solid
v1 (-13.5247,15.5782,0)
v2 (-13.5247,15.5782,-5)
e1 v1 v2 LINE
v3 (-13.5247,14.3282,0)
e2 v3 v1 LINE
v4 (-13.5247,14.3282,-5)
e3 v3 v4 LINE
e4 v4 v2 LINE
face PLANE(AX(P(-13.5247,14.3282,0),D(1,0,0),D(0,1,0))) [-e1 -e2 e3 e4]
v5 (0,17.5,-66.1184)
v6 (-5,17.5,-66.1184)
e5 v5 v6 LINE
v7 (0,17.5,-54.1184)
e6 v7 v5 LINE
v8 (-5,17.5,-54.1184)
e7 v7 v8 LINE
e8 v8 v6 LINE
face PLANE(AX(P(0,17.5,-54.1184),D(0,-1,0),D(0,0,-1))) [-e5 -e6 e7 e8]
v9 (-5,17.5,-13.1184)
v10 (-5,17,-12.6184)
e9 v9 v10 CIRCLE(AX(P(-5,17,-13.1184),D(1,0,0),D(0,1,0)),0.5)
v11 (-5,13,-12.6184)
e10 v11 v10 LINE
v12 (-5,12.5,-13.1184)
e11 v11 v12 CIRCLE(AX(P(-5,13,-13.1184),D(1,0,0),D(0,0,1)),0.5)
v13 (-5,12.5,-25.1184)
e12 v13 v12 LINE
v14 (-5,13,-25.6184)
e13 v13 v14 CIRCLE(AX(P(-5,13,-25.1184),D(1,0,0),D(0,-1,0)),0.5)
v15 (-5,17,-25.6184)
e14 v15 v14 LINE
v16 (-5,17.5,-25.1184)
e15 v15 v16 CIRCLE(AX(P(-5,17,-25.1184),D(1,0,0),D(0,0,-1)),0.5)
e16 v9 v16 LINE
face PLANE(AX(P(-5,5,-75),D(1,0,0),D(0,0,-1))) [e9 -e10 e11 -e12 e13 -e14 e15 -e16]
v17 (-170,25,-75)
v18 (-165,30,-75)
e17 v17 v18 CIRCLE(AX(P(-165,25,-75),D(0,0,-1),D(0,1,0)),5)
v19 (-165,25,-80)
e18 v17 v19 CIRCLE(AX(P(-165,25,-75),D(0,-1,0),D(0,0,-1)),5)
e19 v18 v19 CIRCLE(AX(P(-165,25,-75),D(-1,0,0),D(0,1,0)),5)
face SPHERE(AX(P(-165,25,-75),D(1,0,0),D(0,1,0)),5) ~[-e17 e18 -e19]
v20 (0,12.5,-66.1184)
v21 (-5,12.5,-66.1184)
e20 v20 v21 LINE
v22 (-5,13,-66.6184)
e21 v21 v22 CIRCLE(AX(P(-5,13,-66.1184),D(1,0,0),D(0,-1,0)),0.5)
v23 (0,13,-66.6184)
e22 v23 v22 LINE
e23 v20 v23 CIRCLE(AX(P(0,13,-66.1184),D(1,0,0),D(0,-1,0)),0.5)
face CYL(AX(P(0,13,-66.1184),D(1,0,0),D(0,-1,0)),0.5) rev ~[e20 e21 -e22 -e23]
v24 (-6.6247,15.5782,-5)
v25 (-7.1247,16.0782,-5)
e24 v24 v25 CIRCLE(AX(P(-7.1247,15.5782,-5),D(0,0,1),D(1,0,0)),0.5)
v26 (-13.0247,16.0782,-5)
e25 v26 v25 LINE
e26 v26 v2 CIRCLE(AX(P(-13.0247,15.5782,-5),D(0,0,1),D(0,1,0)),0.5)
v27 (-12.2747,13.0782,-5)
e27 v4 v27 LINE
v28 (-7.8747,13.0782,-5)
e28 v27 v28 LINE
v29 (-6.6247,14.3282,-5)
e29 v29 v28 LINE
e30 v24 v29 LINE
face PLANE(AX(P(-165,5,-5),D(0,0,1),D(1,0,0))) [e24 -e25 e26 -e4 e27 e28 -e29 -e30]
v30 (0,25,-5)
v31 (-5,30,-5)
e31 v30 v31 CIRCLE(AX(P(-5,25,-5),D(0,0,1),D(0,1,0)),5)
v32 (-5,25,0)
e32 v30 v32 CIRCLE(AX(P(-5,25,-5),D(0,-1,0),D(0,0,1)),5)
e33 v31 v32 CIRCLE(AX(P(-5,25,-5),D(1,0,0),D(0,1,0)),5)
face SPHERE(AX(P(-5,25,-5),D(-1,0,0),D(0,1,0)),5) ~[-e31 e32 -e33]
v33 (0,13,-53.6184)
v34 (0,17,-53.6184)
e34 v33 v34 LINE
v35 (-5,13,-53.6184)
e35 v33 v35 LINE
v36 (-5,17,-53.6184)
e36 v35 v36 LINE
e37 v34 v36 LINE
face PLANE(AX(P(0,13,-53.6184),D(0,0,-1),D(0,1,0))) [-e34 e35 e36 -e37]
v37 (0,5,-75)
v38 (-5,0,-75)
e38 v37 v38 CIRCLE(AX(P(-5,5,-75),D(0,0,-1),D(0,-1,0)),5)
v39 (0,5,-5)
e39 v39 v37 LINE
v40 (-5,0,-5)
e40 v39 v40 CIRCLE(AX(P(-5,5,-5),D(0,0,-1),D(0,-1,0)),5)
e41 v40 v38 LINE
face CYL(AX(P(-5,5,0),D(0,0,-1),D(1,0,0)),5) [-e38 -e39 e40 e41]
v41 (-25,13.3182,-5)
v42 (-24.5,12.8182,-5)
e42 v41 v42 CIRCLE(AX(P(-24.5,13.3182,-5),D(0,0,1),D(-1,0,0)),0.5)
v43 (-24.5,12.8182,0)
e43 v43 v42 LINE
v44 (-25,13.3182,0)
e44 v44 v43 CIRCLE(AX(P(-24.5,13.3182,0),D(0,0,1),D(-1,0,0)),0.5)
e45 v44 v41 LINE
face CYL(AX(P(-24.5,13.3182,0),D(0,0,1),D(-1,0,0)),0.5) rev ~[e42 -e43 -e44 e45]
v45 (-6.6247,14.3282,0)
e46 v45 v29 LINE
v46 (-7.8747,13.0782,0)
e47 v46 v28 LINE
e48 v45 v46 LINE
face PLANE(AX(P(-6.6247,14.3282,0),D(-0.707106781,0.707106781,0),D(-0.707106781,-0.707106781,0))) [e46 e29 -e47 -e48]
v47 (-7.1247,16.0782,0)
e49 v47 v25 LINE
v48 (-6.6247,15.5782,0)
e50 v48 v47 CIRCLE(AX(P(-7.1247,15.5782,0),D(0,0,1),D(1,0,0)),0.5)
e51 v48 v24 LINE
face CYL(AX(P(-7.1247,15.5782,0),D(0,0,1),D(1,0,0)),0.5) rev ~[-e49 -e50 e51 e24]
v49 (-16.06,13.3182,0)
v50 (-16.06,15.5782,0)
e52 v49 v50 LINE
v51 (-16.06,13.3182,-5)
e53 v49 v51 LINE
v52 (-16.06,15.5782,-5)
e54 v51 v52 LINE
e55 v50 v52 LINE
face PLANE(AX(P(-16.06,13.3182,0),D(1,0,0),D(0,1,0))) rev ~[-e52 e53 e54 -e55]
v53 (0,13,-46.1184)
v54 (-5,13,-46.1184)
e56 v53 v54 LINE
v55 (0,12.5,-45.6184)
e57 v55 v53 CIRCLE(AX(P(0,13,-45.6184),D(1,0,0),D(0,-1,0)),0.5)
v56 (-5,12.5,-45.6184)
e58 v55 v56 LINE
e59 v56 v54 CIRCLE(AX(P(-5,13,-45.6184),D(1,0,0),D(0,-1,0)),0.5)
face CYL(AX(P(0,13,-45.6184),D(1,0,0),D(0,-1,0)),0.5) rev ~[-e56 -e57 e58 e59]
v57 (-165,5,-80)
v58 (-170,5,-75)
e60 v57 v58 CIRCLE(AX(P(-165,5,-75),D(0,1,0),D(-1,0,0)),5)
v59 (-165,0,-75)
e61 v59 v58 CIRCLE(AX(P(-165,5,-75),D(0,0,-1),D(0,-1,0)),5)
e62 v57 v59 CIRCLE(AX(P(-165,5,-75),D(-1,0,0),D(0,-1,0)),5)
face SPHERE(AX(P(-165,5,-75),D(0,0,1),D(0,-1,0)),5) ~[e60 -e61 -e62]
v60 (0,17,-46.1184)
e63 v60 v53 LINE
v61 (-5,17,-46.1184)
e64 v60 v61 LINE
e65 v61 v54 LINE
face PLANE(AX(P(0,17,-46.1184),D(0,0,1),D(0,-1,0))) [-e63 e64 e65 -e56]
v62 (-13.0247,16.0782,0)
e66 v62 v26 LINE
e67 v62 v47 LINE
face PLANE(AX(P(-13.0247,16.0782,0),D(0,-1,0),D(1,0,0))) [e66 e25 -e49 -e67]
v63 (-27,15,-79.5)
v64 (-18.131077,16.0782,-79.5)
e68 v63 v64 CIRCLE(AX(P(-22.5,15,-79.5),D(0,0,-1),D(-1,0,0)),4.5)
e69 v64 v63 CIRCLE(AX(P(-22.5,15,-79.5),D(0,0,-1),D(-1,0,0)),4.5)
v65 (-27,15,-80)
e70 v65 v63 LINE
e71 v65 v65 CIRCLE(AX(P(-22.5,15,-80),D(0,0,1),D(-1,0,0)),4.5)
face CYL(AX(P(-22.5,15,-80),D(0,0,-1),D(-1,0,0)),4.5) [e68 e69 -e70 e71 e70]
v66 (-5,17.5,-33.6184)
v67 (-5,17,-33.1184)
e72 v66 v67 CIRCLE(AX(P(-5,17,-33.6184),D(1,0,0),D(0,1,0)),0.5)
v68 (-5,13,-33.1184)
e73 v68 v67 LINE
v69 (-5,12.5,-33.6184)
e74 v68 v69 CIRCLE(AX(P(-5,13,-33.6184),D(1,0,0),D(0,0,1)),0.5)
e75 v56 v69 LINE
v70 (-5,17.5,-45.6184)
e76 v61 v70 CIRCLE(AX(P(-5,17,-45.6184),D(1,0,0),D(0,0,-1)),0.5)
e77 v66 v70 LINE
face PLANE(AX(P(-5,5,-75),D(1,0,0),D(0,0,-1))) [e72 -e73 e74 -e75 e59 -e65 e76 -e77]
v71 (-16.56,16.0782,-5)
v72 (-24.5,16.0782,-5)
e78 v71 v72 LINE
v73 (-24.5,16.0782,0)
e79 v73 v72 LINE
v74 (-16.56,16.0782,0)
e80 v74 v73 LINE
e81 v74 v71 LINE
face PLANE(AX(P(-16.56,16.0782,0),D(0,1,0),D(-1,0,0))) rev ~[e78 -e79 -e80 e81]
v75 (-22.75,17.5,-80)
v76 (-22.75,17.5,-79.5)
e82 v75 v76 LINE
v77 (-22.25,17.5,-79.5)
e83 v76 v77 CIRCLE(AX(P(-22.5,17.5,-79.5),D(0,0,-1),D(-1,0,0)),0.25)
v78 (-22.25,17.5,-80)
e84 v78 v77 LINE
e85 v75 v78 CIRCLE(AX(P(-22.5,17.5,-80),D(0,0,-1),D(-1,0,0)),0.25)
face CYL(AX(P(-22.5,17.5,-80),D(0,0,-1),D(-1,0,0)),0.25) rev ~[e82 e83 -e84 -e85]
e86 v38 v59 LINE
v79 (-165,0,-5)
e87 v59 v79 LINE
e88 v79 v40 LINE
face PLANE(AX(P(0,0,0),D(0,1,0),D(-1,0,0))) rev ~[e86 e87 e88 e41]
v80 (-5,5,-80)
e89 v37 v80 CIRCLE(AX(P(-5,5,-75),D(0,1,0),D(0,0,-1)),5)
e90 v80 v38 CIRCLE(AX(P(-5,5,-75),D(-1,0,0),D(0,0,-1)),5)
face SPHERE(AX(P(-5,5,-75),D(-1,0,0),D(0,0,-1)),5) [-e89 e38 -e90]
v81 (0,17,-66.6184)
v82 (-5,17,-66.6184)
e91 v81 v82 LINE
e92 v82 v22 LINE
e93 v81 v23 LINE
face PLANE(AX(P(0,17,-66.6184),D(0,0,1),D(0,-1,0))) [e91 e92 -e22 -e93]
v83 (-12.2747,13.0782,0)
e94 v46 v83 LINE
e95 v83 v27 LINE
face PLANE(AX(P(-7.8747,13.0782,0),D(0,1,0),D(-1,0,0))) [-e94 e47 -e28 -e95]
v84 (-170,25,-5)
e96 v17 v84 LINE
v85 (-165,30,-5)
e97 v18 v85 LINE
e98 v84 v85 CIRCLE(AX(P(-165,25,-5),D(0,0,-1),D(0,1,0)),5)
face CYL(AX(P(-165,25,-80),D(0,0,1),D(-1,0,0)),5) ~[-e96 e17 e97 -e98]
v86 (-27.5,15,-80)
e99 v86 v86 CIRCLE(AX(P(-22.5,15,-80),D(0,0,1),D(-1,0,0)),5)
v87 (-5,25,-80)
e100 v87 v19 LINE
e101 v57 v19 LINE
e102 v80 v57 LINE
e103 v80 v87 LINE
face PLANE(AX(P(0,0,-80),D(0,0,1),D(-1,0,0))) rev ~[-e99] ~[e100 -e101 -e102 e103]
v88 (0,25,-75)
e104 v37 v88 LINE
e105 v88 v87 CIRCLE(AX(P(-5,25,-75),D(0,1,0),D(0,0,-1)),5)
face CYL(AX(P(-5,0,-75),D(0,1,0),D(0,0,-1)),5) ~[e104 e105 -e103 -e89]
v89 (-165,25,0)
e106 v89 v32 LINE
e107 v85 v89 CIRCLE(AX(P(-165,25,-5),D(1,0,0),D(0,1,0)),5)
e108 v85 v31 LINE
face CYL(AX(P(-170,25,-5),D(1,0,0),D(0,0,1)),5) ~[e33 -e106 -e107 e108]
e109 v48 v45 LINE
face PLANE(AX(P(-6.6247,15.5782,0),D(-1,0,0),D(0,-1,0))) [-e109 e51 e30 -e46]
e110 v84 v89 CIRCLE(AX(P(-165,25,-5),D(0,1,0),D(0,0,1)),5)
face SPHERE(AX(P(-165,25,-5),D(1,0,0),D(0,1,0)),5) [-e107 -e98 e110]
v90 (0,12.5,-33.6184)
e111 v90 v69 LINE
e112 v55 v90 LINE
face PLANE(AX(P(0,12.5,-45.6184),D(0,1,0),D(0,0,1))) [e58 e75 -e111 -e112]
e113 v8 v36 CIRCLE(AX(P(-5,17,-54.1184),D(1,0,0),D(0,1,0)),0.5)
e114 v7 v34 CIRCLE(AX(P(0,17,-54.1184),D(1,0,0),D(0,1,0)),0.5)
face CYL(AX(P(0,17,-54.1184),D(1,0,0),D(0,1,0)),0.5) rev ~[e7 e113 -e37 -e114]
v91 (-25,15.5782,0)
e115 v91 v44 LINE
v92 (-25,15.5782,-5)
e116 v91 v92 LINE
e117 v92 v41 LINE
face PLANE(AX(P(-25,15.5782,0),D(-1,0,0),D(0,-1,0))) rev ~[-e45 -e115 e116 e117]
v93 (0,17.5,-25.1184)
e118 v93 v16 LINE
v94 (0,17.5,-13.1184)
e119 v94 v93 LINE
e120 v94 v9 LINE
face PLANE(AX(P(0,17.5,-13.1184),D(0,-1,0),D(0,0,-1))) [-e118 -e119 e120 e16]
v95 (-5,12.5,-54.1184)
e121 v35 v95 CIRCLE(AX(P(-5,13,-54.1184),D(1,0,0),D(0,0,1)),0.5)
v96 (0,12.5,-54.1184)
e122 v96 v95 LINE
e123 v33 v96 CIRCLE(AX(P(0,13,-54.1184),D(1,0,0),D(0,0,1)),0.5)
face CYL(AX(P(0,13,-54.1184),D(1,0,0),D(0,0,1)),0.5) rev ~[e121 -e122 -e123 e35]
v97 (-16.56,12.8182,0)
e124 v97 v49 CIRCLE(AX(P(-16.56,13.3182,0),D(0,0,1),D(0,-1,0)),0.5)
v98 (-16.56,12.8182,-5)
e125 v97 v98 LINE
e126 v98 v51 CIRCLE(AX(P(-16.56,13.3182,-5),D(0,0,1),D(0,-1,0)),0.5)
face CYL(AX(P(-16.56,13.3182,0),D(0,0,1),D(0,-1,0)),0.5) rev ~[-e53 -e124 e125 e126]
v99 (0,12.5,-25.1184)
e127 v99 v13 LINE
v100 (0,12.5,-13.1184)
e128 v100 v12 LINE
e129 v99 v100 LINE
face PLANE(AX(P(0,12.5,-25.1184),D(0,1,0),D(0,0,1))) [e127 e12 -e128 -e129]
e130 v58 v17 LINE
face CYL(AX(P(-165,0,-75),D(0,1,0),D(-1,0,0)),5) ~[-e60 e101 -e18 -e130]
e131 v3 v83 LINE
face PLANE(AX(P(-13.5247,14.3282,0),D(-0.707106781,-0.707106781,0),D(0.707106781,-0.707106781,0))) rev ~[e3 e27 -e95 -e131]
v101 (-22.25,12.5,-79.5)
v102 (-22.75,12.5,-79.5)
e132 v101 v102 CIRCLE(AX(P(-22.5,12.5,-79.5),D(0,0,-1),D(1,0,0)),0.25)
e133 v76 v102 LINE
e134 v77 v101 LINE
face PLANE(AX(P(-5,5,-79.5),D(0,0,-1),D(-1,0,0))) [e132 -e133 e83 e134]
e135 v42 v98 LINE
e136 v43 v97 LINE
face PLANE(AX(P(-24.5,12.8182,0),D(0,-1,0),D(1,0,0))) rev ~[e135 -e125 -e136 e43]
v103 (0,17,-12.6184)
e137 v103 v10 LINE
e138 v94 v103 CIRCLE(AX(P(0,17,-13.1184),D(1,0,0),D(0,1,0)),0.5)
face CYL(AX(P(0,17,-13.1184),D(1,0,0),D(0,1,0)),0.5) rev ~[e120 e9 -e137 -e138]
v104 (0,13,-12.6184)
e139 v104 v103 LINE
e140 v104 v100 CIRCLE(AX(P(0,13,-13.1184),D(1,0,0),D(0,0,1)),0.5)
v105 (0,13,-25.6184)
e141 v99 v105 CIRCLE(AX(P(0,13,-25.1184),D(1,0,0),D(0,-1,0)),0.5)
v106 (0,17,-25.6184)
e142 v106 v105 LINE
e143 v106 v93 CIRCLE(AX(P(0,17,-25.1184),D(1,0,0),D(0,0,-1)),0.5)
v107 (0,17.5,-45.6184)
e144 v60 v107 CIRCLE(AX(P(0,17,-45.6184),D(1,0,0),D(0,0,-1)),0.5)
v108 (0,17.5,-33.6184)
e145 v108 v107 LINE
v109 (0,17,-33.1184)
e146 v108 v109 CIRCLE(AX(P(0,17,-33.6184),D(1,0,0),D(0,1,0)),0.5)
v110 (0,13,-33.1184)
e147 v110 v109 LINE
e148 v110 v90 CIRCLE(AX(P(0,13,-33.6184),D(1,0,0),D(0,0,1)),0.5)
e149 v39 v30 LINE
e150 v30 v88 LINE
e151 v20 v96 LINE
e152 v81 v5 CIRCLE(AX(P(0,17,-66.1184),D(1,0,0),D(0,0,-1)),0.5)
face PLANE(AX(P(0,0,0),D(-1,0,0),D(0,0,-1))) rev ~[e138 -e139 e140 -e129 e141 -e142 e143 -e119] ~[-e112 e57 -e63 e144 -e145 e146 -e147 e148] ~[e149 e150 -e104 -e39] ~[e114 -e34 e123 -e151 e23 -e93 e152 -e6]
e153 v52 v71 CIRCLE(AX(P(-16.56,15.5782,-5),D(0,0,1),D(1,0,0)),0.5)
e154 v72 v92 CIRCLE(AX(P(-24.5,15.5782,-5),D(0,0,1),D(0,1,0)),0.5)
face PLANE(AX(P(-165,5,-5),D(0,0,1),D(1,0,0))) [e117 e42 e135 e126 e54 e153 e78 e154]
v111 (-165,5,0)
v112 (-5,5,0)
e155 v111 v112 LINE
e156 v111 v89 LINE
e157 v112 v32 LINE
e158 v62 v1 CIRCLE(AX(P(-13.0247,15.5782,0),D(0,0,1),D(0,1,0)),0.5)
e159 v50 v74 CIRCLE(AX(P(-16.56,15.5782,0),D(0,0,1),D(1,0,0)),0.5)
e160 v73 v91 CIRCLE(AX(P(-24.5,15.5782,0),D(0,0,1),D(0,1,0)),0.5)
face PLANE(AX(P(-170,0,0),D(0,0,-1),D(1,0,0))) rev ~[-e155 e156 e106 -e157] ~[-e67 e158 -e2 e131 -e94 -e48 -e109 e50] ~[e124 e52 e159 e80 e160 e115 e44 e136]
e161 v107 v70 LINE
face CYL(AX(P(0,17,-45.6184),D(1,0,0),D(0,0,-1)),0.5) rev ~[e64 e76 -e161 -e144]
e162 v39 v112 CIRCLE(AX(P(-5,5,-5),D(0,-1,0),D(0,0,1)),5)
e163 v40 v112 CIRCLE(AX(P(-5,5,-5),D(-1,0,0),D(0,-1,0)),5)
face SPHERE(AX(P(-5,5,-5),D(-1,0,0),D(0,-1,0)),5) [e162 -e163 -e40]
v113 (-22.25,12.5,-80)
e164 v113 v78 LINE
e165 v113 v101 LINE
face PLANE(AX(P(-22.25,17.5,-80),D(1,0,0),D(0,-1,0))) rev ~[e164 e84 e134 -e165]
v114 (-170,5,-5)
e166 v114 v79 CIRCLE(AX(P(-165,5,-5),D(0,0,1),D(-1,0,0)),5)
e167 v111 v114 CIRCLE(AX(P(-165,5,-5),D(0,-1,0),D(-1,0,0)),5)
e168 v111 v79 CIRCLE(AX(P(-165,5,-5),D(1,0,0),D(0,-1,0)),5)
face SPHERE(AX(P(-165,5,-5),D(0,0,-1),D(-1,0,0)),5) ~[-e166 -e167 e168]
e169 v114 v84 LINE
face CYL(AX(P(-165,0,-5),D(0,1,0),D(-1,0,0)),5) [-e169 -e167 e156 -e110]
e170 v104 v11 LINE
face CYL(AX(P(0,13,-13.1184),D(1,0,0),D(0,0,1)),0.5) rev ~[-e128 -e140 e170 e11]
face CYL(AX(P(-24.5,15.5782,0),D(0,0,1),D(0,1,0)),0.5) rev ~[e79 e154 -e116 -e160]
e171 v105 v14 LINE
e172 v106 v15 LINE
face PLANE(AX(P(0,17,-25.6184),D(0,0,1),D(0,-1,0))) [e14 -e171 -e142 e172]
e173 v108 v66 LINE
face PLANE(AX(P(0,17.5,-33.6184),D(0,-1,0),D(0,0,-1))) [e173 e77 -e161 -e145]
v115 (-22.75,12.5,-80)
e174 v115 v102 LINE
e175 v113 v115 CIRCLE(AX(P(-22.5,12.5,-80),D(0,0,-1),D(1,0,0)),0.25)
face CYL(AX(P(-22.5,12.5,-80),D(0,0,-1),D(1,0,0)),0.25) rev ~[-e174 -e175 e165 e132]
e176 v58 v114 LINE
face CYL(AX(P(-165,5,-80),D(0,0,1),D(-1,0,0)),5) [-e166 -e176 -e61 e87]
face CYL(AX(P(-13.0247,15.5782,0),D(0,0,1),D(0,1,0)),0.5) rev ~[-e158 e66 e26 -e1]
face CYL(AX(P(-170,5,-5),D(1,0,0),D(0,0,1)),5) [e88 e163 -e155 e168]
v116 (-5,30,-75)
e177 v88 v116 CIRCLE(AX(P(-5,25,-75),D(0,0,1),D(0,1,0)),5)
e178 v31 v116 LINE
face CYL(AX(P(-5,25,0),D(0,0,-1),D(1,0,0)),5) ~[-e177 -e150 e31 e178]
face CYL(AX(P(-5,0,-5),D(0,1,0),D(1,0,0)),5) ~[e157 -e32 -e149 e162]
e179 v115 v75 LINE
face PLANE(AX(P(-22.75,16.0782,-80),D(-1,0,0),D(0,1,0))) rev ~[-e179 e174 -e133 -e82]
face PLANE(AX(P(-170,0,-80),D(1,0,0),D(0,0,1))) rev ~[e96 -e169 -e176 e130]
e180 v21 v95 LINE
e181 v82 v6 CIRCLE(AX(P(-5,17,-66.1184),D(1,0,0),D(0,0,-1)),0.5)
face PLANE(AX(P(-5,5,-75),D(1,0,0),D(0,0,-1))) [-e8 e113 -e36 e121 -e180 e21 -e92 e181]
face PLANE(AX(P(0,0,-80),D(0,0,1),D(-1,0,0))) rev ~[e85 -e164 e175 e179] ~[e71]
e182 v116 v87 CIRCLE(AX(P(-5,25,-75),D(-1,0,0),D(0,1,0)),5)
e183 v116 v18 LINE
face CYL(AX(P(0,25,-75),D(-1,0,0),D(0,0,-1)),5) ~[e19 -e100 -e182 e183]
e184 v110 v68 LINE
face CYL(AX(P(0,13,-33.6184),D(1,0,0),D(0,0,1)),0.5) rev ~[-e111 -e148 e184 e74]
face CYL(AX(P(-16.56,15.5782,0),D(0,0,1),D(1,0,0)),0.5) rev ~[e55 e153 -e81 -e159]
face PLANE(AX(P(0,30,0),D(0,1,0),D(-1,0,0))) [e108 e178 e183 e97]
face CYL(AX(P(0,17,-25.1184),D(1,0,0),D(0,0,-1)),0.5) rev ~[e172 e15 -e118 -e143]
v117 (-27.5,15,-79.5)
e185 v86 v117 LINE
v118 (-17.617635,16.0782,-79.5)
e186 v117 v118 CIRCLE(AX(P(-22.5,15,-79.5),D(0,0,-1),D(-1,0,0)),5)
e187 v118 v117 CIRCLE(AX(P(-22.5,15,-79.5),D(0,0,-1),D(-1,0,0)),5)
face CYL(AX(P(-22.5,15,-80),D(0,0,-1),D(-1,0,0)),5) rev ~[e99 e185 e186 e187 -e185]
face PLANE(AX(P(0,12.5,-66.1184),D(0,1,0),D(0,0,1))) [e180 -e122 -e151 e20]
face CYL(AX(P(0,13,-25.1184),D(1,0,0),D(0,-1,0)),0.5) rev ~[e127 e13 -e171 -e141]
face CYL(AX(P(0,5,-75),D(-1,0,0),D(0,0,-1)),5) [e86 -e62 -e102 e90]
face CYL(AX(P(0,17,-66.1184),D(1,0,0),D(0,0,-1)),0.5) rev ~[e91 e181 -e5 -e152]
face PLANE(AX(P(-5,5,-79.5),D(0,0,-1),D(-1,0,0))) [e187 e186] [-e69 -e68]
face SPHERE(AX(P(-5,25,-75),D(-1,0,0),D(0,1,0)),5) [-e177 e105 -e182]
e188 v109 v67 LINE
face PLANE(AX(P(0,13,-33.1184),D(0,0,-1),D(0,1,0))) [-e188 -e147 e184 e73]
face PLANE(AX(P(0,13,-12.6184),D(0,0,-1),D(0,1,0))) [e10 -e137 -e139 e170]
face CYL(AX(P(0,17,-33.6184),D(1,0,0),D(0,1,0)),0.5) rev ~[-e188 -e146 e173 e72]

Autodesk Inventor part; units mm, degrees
ref_plane "YZ Plane" through (0, 0, 0) normal (1, 0, 0) x (0, 1, 0)
ref_plane "XZ Plane" through (0, 0, 0) normal (0, 1, 0) x (-1, 0, 0)
ref_plane "XY Plane" through (0, 0, 0) normal (0, 0, 1) x (1, 0, 0)
sketch "Sketch1" plane through (0, 0, 0) normal (0, 1, 0) x (-1, 0, 0)
  line L0 (170, 0) -> (0, 0)
  line L1 (0, 0) -> (0, -80)
  line L2 (0, -80) -> (170, -80)
  line L3 (170, -80) -> (170, 0)
  dimension "d1" = 170
  dimension "d2" = 80
extrude "Extrusion1" add sketch "Sketch1" along normal blind 30
fillet "Fillet1" radius 5 12 edges at (-85, 30, 0) (-85, 30, -80) (0, 30, -40) (-170, 30, -40) (-170, 0, -40) (-170, 15, 0) (-85, 0, 0) (-85, 0, -80) (0, 15, -80) (0, 0, -40) (-170, 15, -80) (0, 15, 0)
sketch "Sketch2" plane through (-165, 5, 0) normal (0, 0, 1) x (1, 0, 0)
  line L0 (148.44, 11.0782) -> (140.5, 11.0782)
  line L1 (140, 10.5782) -> (140, 8.3182)
  line L2 (140.5, 7.8182) -> (148.44, 7.8182)
  line L3 (148.94, 8.3182) -> (148.94, 10.5782)
  line L4 (0, 0) -> (0, 20) projected
  arc A0 (140.5, 11.0782) -> (140, 10.5782) centre (140.5, 10.5782) ccw
  arc A1 (140, 8.3182) -> (140.5, 7.8182) centre (140.5, 8.3182) ccw
  arc A2 (148.94, 10.5782) -> (148.44, 11.0782) centre (148.44, 10.5782) ccw
  arc A3 (148.44, 7.8182) -> (148.94, 8.3182) centre (148.44, 8.3182) ccw
  line L5 (151.9753, 11.0782) -> (157.8753, 11.0782)
  line L6 (158.3753, 10.5782) -> (158.3753, 9.3282)
  line L7 (156.8753, 8.0782) -> (152.7253, 8.0782)
  line L8 (151.4753, 9.3282) -> (151.4753, 10.5782)
  line L9 (151.4753, 8.0782) -> (151.4753, 8.0782)
  line L10 (151.4753, 8.0782) -> (151.4753, 8.0782) construction
  line L11 (157.1253, 8.0782) -> (156.8753, 8.0782)
  arc A4 (151.9753, 11.0782) -> (151.4753, 10.5782) centre (151.9753, 10.5782) ccw
  arc A5 (158.3753, 10.5782) -> (157.8753, 11.0782) centre (157.8753, 10.5782) ccw
  line L12 (151.4753, 9.3282) -> (152.7253, 8.0782)
  line L13 (151.4753, 9.3282) -> (153.243, 9.3282) construction
  line L14 (158.3753, 9.3282) -> (157.1253, 8.0782)
  point P0 (165, -5)
  point P1 (140, 7.8182)
  point P2 (140, 11.0782)
  point P3 (148.94, 7.8182)
  point P4 (158.3753, 11.0782)
  dimension "d6" = 8.94
  dimension "d7" = 3.26
  dimension "d8" = 140
  dimension "d9" = 0.5
  dimension "d12" = 45
  dimension "d13" = 0
  dimension "d14" = 1.25
  dimension "d15" = 0.5
  dimension "d16" = 6.9
  dimension "d17" = 45
  dimension "d18" = 3
extrude "Extrusion2" cut sketch "Sketch2" against normal blind 5
sketch "Sketch3" plane through (0, 5, -75) normal (1, 0, 0) x (0, 0, -1)
  line L0 (-61.8816, 12.5) -> (-49.8816, 12.5)
  line L1 (-49.3816, 12) -> (-49.3816, 8)
  line L2 (-49.8816, 7.5) -> (-61.8816, 7.5)
  line L3 (-62.3816, 8) -> (-62.3816, 12)
  line L4 (-41.3816, 12.5) -> (-29.3816, 12.5)
  line L5 (-28.8816, 12) -> (-28.8816, 8)
  line L6 (-29.3816, 7.5) -> (-41.3816, 7.5)
  line L7 (-41.8816, 8) -> (-41.8816, 12)
  line L8 (-20.8816, 12.5) -> (-8.8816, 12.5)
  line L9 (-8.3816, 12) -> (-8.3816, 8)
  line L10 (-8.8816, 7.5) -> (-20.8816, 7.5)
  line L11 (-21.3816, 8) -> (-21.3816, 12)
  line L12 (-75, 20) -> (-75, 0) projected
  line L13 (5, 0) -> (5, 20) projected
  line L14 (0, 25) -> (-70, 25) projected
  arc A0 (-61.8816, 12.5) -> (-62.3816, 12) centre (-61.8816, 12) ccw
  arc A1 (-49.3816, 12) -> (-49.8816, 12.5) centre (-49.8816, 12) ccw
  arc A2 (-62.3816, 8) -> (-61.8816, 7.5) centre (-61.8816, 8) ccw
  arc A3 (-49.8816, 7.5) -> (-49.3816, 8) centre (-49.8816, 8) ccw
  arc A4 (-41.3816, 12.5) -> (-41.8816, 12) centre (-41.3816, 12) ccw
  arc A5 (-28.8816, 12) -> (-29.3816, 12.5) centre (-29.3816, 12) ccw
  arc A6 (-41.8816, 8) -> (-41.3816, 7.5) centre (-41.3816, 8) ccw
  arc A7 (-29.3816, 7.5) -> (-28.8816, 8) centre (-29.3816, 8) ccw
  arc A8 (-20.8816, 12.5) -> (-21.3816, 12) centre (-20.8816, 12) ccw
  arc A9 (-8.3816, 12) -> (-8.8816, 12.5) centre (-8.8816, 12) ccw
  arc A10 (-21.3816, 8) -> (-20.8816, 7.5) centre (-20.8816, 8) ccw
  arc A11 (-8.8816, 7.5) -> (-8.3816, 8) centre (-8.8816, 8) ccw
  point P0 (-75, -5)
  point P1 (-49.3816, 7.5)
  point P2 (-49.3816, 12.5)
  point P3 (-62.3816, 7.5)
  point P4 (-28.8816, 7.5)
  point P5 (-28.8816, 12.5)
  point P6 (-41.8816, 7.5)
  point P7 (-8.3816, 7.5)
  point P8 (-8.3816, 12.5)
  point P9 (-21.3816, 7.5)
  point P10 (-49.3816, 10)
  point P11 (-21.3816, 10)
  point P12 (-28.8816, 10)
  point P13 (5, 10)
  point P14 (-62.3816, 10)
  dimension "d21" = 13
  dimension "d22" = 5
  dimension "d23" = 13
  dimension "d24" = 5
  dimension "d25" = 13
  dimension "d26" = 5
  dimension "d27" = 7.5
  dimension "d28" = 7.5
  dimension "d32" = 15
  dimension "d33" = 0.5
extrude "Extrusion3" cut sketch "Sketch3" against normal blind 5
sketch "Sketch4" plane through (-5, 5, -80) normal (0, 0, -1) x (-1, 0, 0)
  circle A0 centre (17.5, 10) radius 5
  line L0 (-5, 20) -> (-5, 0) projected
  line L1 (0, -5) -> (160, -5) projected
  circle A1 centre (17.5, 10) radius 4.5
  line L2 (17.5, 7.5) -> (17.5, 12.5) construction
  line L3 (19.5, 11.0782) -> (11.56, 11.0782) projected
  line L4 (17.75, 7.5) -> (17.75, 12.5)
  line L5 (17.25, 12.5) -> (17.25, 7.5)
  arc A2 (17.25, 7.5) -> (17.75, 7.5) centre (17.5, 7.5) ccw
  arc A3 (17.75, 12.5) -> (17.25, 12.5) centre (17.5, 12.5) ccw
  line L6 (17.5, 10) -> (22.5, 10) construction
  point P0 (-5, -5)
  dimension "d36" = 10
  dimension "d37" = 22.5
  dimension "d38" = 15
  dimension "d39" = 9
  dimension "d40" = 2.5
  dimension "d41" = 90
  dimension "d42" = 0.5
extrude "Extrusion4" cut sketch "Sketch4" against normal blind 0.5
properties part number "Large Battery" material "PET Plastic"
